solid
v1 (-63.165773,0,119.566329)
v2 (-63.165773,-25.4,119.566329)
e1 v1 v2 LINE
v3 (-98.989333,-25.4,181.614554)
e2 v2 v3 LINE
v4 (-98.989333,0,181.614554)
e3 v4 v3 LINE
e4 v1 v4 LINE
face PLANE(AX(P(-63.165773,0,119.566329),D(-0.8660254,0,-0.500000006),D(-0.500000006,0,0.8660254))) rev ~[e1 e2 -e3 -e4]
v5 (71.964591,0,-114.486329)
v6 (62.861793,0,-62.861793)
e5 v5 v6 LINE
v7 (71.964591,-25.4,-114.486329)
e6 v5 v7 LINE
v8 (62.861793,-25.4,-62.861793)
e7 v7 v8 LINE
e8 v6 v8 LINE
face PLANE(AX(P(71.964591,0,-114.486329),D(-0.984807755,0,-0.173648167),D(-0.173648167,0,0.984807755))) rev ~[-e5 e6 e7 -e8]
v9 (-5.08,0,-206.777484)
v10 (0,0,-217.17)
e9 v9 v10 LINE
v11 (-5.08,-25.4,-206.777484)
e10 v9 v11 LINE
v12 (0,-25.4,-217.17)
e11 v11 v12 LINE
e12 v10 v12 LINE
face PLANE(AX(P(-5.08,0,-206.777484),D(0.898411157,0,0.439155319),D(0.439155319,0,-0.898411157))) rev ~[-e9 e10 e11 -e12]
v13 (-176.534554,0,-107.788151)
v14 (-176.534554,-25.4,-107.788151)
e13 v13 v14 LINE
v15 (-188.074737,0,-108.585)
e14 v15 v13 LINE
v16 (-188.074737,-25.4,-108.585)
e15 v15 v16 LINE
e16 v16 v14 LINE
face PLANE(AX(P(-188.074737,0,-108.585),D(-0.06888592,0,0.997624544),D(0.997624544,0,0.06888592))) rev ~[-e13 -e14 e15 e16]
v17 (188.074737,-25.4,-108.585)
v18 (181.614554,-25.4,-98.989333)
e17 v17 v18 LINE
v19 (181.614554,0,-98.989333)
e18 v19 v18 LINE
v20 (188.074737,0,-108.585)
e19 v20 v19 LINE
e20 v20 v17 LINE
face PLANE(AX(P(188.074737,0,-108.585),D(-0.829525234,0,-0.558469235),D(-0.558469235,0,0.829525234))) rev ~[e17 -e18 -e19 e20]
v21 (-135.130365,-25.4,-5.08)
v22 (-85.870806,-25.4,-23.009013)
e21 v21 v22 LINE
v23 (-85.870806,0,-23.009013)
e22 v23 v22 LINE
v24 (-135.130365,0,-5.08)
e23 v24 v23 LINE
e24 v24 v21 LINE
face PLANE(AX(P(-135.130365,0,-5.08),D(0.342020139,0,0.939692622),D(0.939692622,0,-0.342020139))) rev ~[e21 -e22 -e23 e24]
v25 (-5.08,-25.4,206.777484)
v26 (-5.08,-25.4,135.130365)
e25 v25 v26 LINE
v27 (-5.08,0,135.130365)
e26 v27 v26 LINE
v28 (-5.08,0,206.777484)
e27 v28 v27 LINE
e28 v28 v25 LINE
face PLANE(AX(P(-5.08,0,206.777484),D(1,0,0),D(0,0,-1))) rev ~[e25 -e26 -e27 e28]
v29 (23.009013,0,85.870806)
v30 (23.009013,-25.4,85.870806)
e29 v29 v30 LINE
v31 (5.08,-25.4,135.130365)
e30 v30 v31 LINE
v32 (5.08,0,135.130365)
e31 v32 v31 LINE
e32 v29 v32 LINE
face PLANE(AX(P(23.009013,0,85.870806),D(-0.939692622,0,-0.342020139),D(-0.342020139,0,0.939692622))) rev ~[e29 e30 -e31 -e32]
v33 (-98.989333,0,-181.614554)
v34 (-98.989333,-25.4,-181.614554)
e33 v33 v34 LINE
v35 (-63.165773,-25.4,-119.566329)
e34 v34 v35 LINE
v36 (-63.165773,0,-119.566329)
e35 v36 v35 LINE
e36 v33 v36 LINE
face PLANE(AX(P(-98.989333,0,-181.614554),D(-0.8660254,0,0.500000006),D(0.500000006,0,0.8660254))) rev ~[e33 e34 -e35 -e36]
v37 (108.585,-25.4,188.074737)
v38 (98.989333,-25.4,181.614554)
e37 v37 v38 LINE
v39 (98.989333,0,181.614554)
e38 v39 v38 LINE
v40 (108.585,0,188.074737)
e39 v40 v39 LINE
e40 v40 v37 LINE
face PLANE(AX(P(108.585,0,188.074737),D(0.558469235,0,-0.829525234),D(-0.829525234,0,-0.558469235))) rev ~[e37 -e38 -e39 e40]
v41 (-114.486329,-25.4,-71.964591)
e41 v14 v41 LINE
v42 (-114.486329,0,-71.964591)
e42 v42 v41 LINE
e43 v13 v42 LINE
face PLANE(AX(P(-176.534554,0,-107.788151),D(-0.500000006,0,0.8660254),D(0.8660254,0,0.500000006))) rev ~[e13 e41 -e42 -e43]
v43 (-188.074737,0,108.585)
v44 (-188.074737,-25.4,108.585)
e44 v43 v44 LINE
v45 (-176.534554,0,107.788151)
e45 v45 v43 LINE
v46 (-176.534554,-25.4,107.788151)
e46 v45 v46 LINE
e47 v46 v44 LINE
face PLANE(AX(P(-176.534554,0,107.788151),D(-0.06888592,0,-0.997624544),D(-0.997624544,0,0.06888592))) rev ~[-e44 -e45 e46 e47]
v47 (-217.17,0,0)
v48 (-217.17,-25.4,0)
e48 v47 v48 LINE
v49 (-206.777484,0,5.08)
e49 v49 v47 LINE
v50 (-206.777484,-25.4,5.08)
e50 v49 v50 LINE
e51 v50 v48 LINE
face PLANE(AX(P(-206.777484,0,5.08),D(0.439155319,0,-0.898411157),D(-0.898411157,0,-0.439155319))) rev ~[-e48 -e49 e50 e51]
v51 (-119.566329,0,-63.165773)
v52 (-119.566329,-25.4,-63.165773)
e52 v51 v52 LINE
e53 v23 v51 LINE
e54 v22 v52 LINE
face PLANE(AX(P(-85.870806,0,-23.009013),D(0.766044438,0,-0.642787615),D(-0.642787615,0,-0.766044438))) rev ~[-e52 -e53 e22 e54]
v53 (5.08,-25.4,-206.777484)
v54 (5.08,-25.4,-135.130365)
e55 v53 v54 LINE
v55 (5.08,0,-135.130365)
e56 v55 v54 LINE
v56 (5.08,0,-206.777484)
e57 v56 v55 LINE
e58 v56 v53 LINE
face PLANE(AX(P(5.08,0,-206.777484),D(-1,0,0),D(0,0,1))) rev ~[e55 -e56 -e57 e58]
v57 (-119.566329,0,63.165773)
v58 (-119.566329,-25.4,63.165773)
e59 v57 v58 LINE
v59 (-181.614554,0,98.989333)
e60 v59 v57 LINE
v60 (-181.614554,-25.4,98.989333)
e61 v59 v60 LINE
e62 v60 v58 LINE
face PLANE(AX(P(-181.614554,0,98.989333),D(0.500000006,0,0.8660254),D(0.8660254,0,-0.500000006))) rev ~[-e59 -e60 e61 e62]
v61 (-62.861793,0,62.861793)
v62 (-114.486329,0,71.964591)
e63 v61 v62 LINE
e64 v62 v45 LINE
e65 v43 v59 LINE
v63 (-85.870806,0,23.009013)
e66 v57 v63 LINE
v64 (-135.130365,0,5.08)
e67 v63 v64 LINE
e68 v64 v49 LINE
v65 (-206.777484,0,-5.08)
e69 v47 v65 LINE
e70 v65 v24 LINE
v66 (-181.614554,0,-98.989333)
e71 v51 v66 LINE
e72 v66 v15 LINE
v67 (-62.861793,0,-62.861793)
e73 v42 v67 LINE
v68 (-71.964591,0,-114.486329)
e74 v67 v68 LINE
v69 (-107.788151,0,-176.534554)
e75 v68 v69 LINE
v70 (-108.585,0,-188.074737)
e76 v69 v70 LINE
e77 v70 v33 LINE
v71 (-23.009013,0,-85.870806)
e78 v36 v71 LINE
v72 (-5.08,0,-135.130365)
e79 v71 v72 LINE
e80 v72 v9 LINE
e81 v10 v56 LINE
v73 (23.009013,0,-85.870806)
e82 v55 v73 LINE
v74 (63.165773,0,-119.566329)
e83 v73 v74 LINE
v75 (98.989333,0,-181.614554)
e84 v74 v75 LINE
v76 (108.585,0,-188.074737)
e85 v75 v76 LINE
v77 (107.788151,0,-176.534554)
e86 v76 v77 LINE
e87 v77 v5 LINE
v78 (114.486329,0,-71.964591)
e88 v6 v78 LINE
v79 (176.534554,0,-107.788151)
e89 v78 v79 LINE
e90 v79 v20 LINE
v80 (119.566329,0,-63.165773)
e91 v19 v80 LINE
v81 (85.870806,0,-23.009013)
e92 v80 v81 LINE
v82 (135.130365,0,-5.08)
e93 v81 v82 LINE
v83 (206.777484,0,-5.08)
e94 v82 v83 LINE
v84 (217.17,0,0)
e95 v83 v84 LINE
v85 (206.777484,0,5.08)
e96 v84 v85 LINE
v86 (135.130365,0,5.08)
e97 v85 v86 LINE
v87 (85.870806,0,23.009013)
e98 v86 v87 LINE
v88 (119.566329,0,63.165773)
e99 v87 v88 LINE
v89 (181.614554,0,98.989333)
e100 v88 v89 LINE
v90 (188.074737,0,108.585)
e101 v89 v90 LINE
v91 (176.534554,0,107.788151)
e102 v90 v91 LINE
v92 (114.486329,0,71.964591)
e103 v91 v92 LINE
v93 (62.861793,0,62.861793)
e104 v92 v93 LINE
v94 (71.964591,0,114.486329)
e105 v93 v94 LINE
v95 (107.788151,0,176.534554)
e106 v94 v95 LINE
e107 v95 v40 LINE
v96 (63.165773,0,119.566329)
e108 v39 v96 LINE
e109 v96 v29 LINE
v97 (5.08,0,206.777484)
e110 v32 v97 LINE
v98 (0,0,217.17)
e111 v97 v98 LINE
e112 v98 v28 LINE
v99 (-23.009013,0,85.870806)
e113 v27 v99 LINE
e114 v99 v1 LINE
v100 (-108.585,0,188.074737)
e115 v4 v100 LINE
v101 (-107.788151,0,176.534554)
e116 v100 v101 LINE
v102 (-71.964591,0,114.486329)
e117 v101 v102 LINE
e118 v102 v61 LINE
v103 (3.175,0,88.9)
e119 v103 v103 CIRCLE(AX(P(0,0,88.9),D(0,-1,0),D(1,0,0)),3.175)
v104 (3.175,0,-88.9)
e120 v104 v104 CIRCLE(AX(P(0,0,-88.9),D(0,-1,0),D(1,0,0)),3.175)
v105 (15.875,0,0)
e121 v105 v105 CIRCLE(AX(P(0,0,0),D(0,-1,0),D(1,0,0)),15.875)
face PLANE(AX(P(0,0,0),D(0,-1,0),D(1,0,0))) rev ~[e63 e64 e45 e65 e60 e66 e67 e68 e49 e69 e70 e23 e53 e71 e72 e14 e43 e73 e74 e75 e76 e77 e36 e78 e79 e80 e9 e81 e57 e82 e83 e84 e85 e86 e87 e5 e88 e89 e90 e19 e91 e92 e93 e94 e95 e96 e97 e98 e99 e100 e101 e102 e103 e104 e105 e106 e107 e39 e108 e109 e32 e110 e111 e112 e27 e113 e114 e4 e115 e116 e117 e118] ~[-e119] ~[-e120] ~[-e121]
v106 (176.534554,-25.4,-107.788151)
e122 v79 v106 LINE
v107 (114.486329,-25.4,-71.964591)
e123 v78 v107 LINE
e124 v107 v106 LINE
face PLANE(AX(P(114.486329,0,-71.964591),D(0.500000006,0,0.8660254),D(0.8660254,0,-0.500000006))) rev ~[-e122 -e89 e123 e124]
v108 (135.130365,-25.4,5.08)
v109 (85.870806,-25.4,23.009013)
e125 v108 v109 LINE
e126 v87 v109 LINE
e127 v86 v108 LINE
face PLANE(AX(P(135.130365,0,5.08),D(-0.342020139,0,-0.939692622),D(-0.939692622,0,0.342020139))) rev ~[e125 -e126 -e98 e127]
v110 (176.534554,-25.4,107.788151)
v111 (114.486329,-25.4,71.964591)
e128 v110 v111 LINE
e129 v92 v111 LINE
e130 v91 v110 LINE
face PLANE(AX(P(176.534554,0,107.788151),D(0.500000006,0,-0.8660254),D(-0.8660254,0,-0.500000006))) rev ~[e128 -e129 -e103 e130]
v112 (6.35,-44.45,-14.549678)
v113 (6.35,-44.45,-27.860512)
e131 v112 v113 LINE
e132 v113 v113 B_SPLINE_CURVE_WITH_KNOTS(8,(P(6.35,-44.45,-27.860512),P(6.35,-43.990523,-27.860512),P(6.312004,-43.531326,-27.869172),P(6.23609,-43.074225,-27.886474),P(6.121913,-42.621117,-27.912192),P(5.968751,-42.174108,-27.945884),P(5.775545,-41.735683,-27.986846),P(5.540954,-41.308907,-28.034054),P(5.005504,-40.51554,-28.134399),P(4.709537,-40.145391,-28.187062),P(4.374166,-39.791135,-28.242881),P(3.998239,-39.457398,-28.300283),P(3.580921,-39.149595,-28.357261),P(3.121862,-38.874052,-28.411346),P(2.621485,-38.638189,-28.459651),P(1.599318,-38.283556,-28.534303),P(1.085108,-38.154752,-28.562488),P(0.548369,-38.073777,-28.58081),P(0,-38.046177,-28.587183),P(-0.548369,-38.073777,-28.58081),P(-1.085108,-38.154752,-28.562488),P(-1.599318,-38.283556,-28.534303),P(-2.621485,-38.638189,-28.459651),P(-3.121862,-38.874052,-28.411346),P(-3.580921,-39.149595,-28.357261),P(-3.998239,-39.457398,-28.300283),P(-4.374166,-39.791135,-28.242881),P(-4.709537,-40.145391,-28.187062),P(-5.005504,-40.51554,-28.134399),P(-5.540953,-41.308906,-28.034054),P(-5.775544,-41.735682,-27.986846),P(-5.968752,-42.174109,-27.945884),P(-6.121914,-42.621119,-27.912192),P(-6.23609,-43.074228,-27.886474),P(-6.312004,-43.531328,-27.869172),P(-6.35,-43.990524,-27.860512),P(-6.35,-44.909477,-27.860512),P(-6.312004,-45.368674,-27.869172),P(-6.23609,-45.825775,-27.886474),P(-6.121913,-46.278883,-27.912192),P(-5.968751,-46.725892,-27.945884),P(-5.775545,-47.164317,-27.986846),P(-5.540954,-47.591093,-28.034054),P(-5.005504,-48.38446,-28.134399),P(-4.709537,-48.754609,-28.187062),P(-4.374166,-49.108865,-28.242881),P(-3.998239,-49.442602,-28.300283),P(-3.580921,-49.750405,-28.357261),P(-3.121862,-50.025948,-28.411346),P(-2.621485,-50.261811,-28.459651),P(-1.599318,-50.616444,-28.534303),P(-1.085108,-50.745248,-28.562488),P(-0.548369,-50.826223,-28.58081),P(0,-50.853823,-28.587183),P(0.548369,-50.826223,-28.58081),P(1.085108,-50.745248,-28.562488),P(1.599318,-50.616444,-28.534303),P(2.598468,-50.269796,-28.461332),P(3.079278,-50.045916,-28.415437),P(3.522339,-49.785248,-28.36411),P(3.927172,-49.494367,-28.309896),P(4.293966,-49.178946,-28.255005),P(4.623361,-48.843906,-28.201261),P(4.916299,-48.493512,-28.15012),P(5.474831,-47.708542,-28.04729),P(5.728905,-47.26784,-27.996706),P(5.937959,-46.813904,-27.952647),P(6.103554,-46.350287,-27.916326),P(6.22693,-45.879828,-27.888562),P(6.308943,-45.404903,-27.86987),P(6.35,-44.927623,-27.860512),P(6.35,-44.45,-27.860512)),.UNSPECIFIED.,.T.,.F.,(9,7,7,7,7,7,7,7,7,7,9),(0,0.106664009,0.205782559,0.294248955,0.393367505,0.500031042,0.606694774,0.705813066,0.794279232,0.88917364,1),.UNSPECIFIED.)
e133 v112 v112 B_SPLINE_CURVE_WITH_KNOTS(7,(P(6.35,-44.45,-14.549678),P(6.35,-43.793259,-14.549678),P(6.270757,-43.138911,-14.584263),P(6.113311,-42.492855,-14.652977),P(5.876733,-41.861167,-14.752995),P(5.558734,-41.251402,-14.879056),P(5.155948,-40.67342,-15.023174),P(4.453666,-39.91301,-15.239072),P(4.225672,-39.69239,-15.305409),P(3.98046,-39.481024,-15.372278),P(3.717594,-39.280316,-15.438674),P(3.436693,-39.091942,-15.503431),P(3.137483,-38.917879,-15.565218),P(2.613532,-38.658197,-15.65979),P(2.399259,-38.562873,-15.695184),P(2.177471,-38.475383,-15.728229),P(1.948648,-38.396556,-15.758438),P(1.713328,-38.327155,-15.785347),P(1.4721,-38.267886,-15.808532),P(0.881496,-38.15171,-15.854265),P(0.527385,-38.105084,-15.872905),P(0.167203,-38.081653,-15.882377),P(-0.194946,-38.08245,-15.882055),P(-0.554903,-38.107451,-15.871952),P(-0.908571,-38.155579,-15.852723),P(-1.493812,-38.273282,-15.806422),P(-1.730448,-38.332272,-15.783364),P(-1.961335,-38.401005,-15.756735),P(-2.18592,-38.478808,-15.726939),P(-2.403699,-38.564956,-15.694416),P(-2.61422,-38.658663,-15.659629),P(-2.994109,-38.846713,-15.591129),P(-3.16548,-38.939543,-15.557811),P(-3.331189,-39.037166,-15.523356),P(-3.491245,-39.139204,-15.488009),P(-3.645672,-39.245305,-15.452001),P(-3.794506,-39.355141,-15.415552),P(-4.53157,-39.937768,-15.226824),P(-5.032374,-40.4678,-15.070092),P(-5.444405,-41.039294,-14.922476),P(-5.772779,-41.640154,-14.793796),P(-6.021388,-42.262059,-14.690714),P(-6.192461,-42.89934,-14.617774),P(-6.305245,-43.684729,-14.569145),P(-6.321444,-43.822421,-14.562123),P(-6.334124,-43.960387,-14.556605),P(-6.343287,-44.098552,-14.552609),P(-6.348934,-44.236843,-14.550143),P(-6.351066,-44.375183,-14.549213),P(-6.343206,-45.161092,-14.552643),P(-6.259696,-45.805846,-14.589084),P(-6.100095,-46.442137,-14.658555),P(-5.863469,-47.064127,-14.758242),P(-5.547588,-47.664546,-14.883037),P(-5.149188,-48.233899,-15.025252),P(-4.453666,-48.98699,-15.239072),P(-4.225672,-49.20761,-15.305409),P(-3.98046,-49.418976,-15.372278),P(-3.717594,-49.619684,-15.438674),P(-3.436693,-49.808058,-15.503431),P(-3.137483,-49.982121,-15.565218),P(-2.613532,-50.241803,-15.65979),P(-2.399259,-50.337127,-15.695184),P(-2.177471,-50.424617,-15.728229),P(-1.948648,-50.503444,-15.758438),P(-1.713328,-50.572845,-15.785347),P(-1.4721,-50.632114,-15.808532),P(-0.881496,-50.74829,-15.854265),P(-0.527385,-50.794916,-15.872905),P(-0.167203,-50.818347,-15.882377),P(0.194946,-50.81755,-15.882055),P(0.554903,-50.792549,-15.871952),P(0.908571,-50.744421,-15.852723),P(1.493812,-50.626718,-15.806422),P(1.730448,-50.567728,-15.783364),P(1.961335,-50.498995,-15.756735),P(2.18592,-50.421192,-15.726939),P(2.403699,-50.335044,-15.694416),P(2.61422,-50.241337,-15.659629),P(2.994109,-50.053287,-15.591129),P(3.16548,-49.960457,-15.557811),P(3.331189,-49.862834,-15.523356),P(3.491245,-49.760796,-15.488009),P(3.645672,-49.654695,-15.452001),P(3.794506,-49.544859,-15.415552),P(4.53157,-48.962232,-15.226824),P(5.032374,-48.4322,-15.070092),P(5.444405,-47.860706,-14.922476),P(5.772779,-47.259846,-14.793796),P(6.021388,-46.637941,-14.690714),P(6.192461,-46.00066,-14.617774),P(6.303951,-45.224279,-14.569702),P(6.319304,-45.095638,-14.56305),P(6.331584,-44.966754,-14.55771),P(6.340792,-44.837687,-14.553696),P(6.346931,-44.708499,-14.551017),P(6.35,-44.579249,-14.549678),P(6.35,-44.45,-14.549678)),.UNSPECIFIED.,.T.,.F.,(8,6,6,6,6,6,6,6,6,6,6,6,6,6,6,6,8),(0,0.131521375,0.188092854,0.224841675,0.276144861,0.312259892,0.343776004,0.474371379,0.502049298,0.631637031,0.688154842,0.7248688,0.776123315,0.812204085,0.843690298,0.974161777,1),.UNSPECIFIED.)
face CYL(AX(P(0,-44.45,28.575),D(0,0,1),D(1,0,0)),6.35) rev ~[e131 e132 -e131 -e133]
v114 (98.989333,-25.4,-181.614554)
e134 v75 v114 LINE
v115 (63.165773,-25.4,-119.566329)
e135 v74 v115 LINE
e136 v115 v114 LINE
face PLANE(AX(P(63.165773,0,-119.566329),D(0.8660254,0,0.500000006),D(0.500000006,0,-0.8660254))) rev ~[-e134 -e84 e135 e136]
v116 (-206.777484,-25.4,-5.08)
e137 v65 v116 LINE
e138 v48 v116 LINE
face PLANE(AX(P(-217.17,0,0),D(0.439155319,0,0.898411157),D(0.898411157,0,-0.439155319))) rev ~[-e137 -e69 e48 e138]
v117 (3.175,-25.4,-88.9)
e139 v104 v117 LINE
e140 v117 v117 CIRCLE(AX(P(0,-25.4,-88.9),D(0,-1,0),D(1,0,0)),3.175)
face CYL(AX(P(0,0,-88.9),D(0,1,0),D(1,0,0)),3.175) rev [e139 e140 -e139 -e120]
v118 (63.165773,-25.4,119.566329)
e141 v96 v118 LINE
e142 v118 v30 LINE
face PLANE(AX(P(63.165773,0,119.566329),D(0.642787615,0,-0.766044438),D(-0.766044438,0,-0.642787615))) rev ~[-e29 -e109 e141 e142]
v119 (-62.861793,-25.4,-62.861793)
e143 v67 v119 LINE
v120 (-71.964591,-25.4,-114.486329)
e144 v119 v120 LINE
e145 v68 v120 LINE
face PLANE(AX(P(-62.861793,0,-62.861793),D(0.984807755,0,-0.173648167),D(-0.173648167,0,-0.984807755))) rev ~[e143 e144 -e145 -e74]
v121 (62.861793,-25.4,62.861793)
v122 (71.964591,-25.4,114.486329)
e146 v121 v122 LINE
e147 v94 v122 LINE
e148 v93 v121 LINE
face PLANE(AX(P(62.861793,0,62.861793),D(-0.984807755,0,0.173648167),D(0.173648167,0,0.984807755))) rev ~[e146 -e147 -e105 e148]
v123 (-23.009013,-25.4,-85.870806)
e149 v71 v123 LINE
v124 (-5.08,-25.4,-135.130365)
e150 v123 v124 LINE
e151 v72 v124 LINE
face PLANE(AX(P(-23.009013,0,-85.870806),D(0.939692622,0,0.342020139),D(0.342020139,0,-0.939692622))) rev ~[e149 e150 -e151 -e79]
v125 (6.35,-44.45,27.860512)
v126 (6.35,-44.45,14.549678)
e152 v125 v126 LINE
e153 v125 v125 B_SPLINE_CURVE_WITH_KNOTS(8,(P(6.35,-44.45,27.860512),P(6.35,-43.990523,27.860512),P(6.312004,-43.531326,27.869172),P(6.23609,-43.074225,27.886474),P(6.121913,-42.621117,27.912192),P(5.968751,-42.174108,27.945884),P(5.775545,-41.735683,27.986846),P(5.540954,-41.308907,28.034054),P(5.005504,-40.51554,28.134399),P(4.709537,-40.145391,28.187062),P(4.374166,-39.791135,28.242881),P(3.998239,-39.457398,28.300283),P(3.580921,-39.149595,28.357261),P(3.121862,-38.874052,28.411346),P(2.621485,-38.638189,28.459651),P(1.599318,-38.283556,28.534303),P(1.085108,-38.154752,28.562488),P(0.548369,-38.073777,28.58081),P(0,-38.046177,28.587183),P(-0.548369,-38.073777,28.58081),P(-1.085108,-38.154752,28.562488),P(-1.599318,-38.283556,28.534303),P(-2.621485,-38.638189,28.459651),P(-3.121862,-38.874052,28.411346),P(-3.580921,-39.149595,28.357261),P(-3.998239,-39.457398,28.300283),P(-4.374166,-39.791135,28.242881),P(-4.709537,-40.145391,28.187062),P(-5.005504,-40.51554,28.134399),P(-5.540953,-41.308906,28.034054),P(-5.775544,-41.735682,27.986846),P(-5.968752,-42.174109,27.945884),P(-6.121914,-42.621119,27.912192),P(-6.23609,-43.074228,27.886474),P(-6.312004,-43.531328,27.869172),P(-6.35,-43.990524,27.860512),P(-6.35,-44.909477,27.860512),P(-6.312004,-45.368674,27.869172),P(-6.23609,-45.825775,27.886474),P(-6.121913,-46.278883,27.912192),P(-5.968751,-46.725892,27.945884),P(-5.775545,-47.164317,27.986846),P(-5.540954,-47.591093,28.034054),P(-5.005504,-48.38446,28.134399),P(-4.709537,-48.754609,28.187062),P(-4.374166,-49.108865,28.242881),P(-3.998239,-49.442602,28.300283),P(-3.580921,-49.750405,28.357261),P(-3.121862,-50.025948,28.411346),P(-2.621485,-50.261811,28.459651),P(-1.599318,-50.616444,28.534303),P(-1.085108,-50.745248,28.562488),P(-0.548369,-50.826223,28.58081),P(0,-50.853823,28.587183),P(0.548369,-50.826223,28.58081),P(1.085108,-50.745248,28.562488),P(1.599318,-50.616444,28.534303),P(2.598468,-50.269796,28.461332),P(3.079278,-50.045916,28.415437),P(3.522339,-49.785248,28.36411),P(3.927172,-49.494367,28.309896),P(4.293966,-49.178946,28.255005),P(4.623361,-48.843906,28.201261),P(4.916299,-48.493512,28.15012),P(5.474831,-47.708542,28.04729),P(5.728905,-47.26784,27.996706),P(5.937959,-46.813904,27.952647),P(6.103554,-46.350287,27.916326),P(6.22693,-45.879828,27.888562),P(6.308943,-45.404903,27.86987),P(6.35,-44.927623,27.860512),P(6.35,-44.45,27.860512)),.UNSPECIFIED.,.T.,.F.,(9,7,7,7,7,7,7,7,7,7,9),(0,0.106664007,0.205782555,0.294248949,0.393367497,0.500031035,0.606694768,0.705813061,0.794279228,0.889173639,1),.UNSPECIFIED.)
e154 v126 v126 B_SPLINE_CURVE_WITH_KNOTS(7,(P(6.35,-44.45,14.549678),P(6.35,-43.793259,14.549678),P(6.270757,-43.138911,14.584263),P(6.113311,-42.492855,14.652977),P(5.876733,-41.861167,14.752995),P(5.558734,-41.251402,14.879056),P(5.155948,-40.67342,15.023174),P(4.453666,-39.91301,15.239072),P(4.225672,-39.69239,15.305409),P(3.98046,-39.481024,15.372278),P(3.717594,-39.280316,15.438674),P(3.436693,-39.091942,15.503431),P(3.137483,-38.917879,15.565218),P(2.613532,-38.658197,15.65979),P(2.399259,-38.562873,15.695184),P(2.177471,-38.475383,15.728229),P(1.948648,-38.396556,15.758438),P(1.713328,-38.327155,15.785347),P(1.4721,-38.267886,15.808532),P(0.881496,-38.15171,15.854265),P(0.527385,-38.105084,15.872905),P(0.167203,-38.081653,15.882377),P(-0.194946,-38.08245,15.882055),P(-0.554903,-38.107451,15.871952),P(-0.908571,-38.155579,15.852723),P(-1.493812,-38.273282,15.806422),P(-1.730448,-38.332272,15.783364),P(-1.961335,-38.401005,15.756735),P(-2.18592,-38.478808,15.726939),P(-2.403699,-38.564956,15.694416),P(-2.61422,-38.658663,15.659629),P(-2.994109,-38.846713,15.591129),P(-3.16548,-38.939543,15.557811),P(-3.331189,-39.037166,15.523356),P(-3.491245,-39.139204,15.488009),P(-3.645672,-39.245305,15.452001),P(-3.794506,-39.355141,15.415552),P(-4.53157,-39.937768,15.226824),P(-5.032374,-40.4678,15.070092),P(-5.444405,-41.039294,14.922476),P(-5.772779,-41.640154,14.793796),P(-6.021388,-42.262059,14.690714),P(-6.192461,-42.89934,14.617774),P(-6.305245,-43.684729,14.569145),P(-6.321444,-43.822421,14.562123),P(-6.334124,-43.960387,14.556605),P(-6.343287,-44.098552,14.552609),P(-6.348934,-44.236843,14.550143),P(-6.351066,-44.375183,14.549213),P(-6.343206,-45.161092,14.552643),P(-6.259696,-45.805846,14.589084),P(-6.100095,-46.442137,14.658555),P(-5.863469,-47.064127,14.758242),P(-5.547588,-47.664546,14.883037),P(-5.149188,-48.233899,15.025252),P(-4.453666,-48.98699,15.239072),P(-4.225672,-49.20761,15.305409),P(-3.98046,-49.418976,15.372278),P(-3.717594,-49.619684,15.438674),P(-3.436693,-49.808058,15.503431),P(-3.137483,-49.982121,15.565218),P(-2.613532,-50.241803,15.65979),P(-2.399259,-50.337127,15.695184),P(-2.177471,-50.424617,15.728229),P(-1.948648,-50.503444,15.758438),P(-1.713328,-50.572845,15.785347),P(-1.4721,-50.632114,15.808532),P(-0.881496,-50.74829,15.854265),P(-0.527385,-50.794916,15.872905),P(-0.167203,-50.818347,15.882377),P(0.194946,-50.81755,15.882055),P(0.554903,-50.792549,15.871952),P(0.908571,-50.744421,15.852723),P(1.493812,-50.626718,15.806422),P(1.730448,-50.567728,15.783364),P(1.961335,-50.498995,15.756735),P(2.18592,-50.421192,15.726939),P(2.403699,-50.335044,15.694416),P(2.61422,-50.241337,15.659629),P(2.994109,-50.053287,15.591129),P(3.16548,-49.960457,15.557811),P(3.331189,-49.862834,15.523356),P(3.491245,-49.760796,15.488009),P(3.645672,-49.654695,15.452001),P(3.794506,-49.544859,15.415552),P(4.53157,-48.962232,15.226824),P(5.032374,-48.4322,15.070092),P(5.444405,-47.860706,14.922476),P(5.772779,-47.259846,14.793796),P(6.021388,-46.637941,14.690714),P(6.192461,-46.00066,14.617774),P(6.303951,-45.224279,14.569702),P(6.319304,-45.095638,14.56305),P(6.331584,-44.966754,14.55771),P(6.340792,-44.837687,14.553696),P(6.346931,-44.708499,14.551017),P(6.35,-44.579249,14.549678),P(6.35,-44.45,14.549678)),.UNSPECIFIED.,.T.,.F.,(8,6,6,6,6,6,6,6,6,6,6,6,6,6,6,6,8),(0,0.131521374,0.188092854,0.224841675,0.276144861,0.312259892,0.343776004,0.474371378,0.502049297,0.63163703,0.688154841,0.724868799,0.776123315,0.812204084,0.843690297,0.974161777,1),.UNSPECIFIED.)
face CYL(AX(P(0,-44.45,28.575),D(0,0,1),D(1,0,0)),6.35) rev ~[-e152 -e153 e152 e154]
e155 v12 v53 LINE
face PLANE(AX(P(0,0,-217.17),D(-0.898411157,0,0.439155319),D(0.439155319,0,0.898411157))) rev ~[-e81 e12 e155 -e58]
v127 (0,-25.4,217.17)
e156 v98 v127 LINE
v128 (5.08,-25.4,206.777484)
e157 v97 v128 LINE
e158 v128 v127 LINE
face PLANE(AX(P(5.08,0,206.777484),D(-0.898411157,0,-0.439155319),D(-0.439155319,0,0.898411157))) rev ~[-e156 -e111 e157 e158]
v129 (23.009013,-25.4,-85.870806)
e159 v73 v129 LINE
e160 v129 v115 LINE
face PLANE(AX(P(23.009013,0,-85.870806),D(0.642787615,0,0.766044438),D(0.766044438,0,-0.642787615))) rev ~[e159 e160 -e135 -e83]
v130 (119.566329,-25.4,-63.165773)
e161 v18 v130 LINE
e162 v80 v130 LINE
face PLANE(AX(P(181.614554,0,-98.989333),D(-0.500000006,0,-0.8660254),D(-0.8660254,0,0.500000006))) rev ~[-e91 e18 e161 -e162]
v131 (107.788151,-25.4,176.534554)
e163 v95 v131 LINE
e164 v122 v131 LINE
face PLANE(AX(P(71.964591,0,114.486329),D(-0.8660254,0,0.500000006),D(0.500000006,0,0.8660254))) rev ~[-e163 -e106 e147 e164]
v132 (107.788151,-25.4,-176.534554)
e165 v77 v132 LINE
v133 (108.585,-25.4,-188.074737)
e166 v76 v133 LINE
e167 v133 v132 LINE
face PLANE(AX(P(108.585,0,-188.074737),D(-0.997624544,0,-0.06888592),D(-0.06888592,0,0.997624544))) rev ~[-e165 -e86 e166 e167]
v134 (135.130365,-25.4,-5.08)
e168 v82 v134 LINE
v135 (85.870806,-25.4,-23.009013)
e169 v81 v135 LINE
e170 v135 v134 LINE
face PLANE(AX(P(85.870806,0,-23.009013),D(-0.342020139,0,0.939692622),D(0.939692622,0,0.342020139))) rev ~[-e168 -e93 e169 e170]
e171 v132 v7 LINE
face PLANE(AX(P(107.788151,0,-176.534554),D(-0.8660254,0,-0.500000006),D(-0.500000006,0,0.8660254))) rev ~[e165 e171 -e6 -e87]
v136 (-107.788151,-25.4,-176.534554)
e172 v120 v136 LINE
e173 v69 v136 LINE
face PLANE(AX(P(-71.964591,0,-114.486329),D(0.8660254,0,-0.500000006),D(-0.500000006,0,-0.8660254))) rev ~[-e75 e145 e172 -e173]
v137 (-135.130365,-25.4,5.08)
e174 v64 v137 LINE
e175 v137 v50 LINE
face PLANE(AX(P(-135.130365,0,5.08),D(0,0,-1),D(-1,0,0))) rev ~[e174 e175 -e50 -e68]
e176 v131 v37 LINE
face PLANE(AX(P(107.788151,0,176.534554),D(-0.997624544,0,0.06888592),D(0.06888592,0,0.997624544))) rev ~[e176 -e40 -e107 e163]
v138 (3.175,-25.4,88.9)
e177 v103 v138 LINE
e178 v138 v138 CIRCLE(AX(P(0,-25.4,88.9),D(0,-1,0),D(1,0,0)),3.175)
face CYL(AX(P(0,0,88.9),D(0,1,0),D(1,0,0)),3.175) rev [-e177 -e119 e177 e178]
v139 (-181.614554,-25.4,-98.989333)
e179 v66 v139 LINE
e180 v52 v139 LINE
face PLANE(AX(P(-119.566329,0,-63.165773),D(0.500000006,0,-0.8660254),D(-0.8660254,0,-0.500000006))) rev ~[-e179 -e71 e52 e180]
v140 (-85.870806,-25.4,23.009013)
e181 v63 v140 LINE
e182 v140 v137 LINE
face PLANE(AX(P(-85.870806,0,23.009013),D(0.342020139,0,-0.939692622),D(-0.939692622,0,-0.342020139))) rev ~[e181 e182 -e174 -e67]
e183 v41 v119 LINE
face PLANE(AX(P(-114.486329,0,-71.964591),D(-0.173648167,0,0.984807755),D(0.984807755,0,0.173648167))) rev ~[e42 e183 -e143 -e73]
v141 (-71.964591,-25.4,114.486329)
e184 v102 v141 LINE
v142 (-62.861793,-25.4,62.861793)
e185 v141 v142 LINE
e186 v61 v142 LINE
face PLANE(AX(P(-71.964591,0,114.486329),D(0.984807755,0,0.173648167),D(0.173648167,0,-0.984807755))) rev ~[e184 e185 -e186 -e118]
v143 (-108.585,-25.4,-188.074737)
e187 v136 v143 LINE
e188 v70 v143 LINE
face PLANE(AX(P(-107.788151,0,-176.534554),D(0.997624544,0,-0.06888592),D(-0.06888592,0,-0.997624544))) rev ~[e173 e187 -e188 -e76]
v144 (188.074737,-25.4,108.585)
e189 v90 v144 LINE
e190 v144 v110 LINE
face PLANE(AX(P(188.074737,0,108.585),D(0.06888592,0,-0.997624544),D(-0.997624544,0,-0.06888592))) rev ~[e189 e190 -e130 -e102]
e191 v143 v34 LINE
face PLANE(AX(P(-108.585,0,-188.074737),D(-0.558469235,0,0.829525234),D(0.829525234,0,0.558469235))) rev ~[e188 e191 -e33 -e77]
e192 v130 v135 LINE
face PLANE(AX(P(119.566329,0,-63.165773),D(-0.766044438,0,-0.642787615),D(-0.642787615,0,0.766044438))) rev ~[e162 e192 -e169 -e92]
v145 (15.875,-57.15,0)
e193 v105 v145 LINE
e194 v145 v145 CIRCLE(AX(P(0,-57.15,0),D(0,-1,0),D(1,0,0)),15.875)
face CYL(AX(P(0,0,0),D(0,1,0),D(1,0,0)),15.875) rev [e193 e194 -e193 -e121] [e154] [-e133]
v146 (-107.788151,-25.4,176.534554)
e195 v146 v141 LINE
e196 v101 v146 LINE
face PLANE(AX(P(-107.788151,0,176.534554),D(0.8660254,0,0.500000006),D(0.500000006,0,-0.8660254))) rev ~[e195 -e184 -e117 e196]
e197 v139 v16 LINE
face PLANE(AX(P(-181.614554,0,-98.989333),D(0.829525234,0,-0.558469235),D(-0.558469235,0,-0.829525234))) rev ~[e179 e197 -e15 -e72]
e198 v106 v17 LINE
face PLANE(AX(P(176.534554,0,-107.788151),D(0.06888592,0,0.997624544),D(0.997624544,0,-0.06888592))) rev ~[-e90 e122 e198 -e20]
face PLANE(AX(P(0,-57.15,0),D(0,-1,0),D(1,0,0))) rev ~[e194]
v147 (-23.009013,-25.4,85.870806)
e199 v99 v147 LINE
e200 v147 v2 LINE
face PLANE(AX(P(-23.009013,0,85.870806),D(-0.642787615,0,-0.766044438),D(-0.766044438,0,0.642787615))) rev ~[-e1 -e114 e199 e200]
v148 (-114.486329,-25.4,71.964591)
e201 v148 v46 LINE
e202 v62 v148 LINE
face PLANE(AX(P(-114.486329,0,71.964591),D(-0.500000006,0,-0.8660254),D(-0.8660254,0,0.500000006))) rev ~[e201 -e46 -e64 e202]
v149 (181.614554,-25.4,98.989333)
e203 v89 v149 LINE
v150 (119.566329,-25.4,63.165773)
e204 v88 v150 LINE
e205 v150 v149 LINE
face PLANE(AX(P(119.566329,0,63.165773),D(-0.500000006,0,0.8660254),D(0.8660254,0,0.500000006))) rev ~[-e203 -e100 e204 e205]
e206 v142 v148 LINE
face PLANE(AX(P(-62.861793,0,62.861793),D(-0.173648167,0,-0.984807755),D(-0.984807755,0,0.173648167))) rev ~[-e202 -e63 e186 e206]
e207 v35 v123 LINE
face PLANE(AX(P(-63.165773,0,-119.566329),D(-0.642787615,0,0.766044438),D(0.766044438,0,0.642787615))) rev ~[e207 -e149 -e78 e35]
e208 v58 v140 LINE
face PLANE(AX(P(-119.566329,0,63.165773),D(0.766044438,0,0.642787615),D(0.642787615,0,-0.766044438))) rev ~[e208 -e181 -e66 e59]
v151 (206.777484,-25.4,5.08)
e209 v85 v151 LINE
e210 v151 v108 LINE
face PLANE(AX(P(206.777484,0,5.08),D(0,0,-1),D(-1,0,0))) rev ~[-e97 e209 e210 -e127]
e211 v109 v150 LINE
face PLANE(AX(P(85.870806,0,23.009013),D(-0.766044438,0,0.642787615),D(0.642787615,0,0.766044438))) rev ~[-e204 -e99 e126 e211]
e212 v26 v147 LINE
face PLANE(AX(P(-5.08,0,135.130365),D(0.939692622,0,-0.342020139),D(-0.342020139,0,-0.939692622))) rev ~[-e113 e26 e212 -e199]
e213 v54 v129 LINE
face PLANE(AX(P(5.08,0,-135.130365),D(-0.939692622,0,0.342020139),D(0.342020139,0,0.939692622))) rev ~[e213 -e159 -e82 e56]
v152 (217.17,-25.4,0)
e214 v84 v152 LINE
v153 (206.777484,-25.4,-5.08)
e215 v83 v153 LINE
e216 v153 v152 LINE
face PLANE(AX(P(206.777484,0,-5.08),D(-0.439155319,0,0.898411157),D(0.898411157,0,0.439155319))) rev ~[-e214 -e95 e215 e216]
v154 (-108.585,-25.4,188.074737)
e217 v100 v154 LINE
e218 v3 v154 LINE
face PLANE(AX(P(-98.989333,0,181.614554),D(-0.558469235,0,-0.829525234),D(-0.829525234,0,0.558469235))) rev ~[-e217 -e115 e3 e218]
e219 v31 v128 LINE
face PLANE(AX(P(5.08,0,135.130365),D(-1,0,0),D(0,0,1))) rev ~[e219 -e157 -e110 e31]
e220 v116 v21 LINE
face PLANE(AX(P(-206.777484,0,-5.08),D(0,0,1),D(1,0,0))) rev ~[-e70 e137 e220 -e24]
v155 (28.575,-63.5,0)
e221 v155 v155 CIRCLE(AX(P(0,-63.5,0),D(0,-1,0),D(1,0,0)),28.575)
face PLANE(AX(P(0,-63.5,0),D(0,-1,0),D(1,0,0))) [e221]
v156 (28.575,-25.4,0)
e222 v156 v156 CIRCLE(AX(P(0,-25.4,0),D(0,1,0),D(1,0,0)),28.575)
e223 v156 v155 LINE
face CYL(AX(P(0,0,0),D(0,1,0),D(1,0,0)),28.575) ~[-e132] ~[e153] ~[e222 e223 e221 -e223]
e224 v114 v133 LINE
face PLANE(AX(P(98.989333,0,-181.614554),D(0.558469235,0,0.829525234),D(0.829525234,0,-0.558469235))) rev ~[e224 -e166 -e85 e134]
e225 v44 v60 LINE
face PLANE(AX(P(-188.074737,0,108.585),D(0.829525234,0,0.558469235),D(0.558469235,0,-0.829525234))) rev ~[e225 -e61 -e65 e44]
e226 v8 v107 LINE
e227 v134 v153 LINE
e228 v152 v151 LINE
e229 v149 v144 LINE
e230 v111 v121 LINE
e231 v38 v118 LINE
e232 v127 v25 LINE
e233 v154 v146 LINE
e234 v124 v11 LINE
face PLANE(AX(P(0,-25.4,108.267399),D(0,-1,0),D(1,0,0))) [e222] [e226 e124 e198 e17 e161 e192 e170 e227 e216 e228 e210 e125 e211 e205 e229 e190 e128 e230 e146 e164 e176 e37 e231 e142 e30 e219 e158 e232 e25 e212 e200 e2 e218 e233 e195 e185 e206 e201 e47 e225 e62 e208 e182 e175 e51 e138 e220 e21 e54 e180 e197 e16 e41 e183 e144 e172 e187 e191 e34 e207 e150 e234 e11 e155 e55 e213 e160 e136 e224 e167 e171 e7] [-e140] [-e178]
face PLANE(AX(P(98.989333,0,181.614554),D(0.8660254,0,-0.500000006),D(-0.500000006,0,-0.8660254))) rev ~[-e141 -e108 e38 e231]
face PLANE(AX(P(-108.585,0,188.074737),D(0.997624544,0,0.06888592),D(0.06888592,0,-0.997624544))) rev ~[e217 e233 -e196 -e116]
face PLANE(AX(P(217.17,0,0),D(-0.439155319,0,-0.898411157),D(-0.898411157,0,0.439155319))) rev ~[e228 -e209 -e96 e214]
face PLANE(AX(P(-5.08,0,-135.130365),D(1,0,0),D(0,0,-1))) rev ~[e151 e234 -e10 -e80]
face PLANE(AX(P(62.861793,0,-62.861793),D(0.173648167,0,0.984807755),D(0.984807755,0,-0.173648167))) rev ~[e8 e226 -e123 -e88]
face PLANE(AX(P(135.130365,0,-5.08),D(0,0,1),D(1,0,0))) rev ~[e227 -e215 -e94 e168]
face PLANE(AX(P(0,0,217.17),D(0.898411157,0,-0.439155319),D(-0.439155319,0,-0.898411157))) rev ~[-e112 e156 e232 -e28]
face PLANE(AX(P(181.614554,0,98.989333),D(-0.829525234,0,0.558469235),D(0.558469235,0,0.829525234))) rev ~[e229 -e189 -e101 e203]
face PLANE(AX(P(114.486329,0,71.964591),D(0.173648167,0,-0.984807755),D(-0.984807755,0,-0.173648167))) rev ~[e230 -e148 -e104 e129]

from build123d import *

# Parameters (mm, degrees)
F2_DEPTH  = 25.4
F3_R      = 28.575
F4_DEPTH  = 63.5
F5_R      = 15.875
F6_DEPTH  = 57.15
F9_R      = 6.35
F10_DEPTH = 63.5
F11_R     = 3.175
F12_DEPTH = 25.4


with BuildPart() as f2:
    # F1 (on face) → F2 (new body)
    with BuildSketch(Plane.XZ):
        Polygon((5.08, 135.130365), (5.08, 206.777484), (0, 217.17), (-5.08, 206.777484), (-5.08, 135.130365), (-23.009013, 85.870806), (0, 0), (23.009013, 85.870806), align=None)
        Polygon((63.165773, 119.566329), (23.009013, 85.870806), (0, 0), (62.861793, 62.861793), (71.964591, 114.486329), (107.788151, 176.534554), (108.585, 188.074737), (98.989333, 181.614554), align=None)
        Polygon((-62.861793, 62.861793), (0, 0), (-23.009013, 85.870806), (-63.165773, 119.566329), (-98.989333, 181.614554), (-108.585, 188.074737), (-107.788151, 176.534554), (-71.964591, 114.486329), align=None)
        Polygon((-85.870806, 23.009013), (0, 0), (-62.861793, 62.861793), (-114.486329, 71.964591), (-176.534554, 107.788151), (-188.074737, 108.585), (-181.614554, 98.989333), (-119.566329, 63.165773), align=None)
        Polygon((-85.870806, -23.009013), (0, 0), (-85.870806, 23.009013), (-135.130365, 5.08), (-206.777484, 5.08), (-217.17, 0), (-206.777484, -5.08), (-135.130365, -5.08), align=None)
        Polygon((-62.861793, -62.861793), (0, 0), (-85.870806, -23.009013), (-119.566329, -63.165773), (-181.614554, -98.989333), (-188.074737, -108.585), (-176.534554, -107.788151), (-114.486329, -71.964591), align=None)
        Polygon((-23.009013, -85.870806), (0, 0), (-62.861793, -62.861793), (-71.964591, -114.486329), (-107.788151, -176.534554), (-108.585, -188.074737), (-98.989333, -181.614554), (-63.165773, -119.566329), align=None)
        Polygon((23.009013, -85.870806), (0, 0), (-23.009013, -85.870806), (-5.08, -135.130365), (-5.08, -206.777484), (0, -217.17), (5.08, -206.777484), (5.08, -135.130365), align=None)
        Polygon((62.861793, -62.861793), (0, 0), (23.009013, -85.870806), (63.165773, -119.566329), (98.989333, -181.614554), (108.585, -188.074737), (107.788151, -176.534554), (71.964591, -114.486329), align=None)
        Polygon((85.870806, -23.009013), (0, 0), (62.861793, -62.861793), (114.486329, -71.964591), (176.534554, -107.788151), (188.074737, -108.585), (181.614554, -98.989333), (119.566329, -63.165773), align=None)
        Polygon((85.870806, 23.009013), (0, 0), (85.870806, -23.009013), (135.130365, -5.08), (206.777484, -5.08), (217.17, 0), (206.777484, 5.08), (135.130365, 5.08), align=None)
        Polygon((62.861793, 62.861793), (0, 0), (85.870806, 23.009013), (119.566329, 63.165773), (181.614554, 98.989333), (188.074737, 108.585), (176.534554, 107.788151), (114.486329, 71.964591), align=None)
    extrude(amount=F2_DEPTH)

    # F3 (on face) → F4 (join)
    with BuildSketch(Plane.XZ):
        Circle(F3_R)
    extrude(amount=F4_DEPTH)

    # F5 (on face) → F6 (cut)
    with BuildSketch(Plane.XZ):
        Circle(F5_R)
    extrude(amount=F6_DEPTH, mode=Mode.SUBTRACT)

    # F9 (on offset) → F10 (cut)
    with BuildSketch(Plane.XY.offset(28.575)):
        with Locations((0, -44.45)):
            Circle(F9_R)
    extrude(amount=-F10_DEPTH, mode=Mode.SUBTRACT)

    # F11 (on face) → F12 (cut)
    with BuildSketch(Plane.XZ):
        with Locations((0, -88.9)):
            Circle(F11_R)
        with Locations((0, 88.9)):
            Circle(F11_R)
    extrude(amount=F12_DEPTH, mode=Mode.SUBTRACT)


solid = f2.part
